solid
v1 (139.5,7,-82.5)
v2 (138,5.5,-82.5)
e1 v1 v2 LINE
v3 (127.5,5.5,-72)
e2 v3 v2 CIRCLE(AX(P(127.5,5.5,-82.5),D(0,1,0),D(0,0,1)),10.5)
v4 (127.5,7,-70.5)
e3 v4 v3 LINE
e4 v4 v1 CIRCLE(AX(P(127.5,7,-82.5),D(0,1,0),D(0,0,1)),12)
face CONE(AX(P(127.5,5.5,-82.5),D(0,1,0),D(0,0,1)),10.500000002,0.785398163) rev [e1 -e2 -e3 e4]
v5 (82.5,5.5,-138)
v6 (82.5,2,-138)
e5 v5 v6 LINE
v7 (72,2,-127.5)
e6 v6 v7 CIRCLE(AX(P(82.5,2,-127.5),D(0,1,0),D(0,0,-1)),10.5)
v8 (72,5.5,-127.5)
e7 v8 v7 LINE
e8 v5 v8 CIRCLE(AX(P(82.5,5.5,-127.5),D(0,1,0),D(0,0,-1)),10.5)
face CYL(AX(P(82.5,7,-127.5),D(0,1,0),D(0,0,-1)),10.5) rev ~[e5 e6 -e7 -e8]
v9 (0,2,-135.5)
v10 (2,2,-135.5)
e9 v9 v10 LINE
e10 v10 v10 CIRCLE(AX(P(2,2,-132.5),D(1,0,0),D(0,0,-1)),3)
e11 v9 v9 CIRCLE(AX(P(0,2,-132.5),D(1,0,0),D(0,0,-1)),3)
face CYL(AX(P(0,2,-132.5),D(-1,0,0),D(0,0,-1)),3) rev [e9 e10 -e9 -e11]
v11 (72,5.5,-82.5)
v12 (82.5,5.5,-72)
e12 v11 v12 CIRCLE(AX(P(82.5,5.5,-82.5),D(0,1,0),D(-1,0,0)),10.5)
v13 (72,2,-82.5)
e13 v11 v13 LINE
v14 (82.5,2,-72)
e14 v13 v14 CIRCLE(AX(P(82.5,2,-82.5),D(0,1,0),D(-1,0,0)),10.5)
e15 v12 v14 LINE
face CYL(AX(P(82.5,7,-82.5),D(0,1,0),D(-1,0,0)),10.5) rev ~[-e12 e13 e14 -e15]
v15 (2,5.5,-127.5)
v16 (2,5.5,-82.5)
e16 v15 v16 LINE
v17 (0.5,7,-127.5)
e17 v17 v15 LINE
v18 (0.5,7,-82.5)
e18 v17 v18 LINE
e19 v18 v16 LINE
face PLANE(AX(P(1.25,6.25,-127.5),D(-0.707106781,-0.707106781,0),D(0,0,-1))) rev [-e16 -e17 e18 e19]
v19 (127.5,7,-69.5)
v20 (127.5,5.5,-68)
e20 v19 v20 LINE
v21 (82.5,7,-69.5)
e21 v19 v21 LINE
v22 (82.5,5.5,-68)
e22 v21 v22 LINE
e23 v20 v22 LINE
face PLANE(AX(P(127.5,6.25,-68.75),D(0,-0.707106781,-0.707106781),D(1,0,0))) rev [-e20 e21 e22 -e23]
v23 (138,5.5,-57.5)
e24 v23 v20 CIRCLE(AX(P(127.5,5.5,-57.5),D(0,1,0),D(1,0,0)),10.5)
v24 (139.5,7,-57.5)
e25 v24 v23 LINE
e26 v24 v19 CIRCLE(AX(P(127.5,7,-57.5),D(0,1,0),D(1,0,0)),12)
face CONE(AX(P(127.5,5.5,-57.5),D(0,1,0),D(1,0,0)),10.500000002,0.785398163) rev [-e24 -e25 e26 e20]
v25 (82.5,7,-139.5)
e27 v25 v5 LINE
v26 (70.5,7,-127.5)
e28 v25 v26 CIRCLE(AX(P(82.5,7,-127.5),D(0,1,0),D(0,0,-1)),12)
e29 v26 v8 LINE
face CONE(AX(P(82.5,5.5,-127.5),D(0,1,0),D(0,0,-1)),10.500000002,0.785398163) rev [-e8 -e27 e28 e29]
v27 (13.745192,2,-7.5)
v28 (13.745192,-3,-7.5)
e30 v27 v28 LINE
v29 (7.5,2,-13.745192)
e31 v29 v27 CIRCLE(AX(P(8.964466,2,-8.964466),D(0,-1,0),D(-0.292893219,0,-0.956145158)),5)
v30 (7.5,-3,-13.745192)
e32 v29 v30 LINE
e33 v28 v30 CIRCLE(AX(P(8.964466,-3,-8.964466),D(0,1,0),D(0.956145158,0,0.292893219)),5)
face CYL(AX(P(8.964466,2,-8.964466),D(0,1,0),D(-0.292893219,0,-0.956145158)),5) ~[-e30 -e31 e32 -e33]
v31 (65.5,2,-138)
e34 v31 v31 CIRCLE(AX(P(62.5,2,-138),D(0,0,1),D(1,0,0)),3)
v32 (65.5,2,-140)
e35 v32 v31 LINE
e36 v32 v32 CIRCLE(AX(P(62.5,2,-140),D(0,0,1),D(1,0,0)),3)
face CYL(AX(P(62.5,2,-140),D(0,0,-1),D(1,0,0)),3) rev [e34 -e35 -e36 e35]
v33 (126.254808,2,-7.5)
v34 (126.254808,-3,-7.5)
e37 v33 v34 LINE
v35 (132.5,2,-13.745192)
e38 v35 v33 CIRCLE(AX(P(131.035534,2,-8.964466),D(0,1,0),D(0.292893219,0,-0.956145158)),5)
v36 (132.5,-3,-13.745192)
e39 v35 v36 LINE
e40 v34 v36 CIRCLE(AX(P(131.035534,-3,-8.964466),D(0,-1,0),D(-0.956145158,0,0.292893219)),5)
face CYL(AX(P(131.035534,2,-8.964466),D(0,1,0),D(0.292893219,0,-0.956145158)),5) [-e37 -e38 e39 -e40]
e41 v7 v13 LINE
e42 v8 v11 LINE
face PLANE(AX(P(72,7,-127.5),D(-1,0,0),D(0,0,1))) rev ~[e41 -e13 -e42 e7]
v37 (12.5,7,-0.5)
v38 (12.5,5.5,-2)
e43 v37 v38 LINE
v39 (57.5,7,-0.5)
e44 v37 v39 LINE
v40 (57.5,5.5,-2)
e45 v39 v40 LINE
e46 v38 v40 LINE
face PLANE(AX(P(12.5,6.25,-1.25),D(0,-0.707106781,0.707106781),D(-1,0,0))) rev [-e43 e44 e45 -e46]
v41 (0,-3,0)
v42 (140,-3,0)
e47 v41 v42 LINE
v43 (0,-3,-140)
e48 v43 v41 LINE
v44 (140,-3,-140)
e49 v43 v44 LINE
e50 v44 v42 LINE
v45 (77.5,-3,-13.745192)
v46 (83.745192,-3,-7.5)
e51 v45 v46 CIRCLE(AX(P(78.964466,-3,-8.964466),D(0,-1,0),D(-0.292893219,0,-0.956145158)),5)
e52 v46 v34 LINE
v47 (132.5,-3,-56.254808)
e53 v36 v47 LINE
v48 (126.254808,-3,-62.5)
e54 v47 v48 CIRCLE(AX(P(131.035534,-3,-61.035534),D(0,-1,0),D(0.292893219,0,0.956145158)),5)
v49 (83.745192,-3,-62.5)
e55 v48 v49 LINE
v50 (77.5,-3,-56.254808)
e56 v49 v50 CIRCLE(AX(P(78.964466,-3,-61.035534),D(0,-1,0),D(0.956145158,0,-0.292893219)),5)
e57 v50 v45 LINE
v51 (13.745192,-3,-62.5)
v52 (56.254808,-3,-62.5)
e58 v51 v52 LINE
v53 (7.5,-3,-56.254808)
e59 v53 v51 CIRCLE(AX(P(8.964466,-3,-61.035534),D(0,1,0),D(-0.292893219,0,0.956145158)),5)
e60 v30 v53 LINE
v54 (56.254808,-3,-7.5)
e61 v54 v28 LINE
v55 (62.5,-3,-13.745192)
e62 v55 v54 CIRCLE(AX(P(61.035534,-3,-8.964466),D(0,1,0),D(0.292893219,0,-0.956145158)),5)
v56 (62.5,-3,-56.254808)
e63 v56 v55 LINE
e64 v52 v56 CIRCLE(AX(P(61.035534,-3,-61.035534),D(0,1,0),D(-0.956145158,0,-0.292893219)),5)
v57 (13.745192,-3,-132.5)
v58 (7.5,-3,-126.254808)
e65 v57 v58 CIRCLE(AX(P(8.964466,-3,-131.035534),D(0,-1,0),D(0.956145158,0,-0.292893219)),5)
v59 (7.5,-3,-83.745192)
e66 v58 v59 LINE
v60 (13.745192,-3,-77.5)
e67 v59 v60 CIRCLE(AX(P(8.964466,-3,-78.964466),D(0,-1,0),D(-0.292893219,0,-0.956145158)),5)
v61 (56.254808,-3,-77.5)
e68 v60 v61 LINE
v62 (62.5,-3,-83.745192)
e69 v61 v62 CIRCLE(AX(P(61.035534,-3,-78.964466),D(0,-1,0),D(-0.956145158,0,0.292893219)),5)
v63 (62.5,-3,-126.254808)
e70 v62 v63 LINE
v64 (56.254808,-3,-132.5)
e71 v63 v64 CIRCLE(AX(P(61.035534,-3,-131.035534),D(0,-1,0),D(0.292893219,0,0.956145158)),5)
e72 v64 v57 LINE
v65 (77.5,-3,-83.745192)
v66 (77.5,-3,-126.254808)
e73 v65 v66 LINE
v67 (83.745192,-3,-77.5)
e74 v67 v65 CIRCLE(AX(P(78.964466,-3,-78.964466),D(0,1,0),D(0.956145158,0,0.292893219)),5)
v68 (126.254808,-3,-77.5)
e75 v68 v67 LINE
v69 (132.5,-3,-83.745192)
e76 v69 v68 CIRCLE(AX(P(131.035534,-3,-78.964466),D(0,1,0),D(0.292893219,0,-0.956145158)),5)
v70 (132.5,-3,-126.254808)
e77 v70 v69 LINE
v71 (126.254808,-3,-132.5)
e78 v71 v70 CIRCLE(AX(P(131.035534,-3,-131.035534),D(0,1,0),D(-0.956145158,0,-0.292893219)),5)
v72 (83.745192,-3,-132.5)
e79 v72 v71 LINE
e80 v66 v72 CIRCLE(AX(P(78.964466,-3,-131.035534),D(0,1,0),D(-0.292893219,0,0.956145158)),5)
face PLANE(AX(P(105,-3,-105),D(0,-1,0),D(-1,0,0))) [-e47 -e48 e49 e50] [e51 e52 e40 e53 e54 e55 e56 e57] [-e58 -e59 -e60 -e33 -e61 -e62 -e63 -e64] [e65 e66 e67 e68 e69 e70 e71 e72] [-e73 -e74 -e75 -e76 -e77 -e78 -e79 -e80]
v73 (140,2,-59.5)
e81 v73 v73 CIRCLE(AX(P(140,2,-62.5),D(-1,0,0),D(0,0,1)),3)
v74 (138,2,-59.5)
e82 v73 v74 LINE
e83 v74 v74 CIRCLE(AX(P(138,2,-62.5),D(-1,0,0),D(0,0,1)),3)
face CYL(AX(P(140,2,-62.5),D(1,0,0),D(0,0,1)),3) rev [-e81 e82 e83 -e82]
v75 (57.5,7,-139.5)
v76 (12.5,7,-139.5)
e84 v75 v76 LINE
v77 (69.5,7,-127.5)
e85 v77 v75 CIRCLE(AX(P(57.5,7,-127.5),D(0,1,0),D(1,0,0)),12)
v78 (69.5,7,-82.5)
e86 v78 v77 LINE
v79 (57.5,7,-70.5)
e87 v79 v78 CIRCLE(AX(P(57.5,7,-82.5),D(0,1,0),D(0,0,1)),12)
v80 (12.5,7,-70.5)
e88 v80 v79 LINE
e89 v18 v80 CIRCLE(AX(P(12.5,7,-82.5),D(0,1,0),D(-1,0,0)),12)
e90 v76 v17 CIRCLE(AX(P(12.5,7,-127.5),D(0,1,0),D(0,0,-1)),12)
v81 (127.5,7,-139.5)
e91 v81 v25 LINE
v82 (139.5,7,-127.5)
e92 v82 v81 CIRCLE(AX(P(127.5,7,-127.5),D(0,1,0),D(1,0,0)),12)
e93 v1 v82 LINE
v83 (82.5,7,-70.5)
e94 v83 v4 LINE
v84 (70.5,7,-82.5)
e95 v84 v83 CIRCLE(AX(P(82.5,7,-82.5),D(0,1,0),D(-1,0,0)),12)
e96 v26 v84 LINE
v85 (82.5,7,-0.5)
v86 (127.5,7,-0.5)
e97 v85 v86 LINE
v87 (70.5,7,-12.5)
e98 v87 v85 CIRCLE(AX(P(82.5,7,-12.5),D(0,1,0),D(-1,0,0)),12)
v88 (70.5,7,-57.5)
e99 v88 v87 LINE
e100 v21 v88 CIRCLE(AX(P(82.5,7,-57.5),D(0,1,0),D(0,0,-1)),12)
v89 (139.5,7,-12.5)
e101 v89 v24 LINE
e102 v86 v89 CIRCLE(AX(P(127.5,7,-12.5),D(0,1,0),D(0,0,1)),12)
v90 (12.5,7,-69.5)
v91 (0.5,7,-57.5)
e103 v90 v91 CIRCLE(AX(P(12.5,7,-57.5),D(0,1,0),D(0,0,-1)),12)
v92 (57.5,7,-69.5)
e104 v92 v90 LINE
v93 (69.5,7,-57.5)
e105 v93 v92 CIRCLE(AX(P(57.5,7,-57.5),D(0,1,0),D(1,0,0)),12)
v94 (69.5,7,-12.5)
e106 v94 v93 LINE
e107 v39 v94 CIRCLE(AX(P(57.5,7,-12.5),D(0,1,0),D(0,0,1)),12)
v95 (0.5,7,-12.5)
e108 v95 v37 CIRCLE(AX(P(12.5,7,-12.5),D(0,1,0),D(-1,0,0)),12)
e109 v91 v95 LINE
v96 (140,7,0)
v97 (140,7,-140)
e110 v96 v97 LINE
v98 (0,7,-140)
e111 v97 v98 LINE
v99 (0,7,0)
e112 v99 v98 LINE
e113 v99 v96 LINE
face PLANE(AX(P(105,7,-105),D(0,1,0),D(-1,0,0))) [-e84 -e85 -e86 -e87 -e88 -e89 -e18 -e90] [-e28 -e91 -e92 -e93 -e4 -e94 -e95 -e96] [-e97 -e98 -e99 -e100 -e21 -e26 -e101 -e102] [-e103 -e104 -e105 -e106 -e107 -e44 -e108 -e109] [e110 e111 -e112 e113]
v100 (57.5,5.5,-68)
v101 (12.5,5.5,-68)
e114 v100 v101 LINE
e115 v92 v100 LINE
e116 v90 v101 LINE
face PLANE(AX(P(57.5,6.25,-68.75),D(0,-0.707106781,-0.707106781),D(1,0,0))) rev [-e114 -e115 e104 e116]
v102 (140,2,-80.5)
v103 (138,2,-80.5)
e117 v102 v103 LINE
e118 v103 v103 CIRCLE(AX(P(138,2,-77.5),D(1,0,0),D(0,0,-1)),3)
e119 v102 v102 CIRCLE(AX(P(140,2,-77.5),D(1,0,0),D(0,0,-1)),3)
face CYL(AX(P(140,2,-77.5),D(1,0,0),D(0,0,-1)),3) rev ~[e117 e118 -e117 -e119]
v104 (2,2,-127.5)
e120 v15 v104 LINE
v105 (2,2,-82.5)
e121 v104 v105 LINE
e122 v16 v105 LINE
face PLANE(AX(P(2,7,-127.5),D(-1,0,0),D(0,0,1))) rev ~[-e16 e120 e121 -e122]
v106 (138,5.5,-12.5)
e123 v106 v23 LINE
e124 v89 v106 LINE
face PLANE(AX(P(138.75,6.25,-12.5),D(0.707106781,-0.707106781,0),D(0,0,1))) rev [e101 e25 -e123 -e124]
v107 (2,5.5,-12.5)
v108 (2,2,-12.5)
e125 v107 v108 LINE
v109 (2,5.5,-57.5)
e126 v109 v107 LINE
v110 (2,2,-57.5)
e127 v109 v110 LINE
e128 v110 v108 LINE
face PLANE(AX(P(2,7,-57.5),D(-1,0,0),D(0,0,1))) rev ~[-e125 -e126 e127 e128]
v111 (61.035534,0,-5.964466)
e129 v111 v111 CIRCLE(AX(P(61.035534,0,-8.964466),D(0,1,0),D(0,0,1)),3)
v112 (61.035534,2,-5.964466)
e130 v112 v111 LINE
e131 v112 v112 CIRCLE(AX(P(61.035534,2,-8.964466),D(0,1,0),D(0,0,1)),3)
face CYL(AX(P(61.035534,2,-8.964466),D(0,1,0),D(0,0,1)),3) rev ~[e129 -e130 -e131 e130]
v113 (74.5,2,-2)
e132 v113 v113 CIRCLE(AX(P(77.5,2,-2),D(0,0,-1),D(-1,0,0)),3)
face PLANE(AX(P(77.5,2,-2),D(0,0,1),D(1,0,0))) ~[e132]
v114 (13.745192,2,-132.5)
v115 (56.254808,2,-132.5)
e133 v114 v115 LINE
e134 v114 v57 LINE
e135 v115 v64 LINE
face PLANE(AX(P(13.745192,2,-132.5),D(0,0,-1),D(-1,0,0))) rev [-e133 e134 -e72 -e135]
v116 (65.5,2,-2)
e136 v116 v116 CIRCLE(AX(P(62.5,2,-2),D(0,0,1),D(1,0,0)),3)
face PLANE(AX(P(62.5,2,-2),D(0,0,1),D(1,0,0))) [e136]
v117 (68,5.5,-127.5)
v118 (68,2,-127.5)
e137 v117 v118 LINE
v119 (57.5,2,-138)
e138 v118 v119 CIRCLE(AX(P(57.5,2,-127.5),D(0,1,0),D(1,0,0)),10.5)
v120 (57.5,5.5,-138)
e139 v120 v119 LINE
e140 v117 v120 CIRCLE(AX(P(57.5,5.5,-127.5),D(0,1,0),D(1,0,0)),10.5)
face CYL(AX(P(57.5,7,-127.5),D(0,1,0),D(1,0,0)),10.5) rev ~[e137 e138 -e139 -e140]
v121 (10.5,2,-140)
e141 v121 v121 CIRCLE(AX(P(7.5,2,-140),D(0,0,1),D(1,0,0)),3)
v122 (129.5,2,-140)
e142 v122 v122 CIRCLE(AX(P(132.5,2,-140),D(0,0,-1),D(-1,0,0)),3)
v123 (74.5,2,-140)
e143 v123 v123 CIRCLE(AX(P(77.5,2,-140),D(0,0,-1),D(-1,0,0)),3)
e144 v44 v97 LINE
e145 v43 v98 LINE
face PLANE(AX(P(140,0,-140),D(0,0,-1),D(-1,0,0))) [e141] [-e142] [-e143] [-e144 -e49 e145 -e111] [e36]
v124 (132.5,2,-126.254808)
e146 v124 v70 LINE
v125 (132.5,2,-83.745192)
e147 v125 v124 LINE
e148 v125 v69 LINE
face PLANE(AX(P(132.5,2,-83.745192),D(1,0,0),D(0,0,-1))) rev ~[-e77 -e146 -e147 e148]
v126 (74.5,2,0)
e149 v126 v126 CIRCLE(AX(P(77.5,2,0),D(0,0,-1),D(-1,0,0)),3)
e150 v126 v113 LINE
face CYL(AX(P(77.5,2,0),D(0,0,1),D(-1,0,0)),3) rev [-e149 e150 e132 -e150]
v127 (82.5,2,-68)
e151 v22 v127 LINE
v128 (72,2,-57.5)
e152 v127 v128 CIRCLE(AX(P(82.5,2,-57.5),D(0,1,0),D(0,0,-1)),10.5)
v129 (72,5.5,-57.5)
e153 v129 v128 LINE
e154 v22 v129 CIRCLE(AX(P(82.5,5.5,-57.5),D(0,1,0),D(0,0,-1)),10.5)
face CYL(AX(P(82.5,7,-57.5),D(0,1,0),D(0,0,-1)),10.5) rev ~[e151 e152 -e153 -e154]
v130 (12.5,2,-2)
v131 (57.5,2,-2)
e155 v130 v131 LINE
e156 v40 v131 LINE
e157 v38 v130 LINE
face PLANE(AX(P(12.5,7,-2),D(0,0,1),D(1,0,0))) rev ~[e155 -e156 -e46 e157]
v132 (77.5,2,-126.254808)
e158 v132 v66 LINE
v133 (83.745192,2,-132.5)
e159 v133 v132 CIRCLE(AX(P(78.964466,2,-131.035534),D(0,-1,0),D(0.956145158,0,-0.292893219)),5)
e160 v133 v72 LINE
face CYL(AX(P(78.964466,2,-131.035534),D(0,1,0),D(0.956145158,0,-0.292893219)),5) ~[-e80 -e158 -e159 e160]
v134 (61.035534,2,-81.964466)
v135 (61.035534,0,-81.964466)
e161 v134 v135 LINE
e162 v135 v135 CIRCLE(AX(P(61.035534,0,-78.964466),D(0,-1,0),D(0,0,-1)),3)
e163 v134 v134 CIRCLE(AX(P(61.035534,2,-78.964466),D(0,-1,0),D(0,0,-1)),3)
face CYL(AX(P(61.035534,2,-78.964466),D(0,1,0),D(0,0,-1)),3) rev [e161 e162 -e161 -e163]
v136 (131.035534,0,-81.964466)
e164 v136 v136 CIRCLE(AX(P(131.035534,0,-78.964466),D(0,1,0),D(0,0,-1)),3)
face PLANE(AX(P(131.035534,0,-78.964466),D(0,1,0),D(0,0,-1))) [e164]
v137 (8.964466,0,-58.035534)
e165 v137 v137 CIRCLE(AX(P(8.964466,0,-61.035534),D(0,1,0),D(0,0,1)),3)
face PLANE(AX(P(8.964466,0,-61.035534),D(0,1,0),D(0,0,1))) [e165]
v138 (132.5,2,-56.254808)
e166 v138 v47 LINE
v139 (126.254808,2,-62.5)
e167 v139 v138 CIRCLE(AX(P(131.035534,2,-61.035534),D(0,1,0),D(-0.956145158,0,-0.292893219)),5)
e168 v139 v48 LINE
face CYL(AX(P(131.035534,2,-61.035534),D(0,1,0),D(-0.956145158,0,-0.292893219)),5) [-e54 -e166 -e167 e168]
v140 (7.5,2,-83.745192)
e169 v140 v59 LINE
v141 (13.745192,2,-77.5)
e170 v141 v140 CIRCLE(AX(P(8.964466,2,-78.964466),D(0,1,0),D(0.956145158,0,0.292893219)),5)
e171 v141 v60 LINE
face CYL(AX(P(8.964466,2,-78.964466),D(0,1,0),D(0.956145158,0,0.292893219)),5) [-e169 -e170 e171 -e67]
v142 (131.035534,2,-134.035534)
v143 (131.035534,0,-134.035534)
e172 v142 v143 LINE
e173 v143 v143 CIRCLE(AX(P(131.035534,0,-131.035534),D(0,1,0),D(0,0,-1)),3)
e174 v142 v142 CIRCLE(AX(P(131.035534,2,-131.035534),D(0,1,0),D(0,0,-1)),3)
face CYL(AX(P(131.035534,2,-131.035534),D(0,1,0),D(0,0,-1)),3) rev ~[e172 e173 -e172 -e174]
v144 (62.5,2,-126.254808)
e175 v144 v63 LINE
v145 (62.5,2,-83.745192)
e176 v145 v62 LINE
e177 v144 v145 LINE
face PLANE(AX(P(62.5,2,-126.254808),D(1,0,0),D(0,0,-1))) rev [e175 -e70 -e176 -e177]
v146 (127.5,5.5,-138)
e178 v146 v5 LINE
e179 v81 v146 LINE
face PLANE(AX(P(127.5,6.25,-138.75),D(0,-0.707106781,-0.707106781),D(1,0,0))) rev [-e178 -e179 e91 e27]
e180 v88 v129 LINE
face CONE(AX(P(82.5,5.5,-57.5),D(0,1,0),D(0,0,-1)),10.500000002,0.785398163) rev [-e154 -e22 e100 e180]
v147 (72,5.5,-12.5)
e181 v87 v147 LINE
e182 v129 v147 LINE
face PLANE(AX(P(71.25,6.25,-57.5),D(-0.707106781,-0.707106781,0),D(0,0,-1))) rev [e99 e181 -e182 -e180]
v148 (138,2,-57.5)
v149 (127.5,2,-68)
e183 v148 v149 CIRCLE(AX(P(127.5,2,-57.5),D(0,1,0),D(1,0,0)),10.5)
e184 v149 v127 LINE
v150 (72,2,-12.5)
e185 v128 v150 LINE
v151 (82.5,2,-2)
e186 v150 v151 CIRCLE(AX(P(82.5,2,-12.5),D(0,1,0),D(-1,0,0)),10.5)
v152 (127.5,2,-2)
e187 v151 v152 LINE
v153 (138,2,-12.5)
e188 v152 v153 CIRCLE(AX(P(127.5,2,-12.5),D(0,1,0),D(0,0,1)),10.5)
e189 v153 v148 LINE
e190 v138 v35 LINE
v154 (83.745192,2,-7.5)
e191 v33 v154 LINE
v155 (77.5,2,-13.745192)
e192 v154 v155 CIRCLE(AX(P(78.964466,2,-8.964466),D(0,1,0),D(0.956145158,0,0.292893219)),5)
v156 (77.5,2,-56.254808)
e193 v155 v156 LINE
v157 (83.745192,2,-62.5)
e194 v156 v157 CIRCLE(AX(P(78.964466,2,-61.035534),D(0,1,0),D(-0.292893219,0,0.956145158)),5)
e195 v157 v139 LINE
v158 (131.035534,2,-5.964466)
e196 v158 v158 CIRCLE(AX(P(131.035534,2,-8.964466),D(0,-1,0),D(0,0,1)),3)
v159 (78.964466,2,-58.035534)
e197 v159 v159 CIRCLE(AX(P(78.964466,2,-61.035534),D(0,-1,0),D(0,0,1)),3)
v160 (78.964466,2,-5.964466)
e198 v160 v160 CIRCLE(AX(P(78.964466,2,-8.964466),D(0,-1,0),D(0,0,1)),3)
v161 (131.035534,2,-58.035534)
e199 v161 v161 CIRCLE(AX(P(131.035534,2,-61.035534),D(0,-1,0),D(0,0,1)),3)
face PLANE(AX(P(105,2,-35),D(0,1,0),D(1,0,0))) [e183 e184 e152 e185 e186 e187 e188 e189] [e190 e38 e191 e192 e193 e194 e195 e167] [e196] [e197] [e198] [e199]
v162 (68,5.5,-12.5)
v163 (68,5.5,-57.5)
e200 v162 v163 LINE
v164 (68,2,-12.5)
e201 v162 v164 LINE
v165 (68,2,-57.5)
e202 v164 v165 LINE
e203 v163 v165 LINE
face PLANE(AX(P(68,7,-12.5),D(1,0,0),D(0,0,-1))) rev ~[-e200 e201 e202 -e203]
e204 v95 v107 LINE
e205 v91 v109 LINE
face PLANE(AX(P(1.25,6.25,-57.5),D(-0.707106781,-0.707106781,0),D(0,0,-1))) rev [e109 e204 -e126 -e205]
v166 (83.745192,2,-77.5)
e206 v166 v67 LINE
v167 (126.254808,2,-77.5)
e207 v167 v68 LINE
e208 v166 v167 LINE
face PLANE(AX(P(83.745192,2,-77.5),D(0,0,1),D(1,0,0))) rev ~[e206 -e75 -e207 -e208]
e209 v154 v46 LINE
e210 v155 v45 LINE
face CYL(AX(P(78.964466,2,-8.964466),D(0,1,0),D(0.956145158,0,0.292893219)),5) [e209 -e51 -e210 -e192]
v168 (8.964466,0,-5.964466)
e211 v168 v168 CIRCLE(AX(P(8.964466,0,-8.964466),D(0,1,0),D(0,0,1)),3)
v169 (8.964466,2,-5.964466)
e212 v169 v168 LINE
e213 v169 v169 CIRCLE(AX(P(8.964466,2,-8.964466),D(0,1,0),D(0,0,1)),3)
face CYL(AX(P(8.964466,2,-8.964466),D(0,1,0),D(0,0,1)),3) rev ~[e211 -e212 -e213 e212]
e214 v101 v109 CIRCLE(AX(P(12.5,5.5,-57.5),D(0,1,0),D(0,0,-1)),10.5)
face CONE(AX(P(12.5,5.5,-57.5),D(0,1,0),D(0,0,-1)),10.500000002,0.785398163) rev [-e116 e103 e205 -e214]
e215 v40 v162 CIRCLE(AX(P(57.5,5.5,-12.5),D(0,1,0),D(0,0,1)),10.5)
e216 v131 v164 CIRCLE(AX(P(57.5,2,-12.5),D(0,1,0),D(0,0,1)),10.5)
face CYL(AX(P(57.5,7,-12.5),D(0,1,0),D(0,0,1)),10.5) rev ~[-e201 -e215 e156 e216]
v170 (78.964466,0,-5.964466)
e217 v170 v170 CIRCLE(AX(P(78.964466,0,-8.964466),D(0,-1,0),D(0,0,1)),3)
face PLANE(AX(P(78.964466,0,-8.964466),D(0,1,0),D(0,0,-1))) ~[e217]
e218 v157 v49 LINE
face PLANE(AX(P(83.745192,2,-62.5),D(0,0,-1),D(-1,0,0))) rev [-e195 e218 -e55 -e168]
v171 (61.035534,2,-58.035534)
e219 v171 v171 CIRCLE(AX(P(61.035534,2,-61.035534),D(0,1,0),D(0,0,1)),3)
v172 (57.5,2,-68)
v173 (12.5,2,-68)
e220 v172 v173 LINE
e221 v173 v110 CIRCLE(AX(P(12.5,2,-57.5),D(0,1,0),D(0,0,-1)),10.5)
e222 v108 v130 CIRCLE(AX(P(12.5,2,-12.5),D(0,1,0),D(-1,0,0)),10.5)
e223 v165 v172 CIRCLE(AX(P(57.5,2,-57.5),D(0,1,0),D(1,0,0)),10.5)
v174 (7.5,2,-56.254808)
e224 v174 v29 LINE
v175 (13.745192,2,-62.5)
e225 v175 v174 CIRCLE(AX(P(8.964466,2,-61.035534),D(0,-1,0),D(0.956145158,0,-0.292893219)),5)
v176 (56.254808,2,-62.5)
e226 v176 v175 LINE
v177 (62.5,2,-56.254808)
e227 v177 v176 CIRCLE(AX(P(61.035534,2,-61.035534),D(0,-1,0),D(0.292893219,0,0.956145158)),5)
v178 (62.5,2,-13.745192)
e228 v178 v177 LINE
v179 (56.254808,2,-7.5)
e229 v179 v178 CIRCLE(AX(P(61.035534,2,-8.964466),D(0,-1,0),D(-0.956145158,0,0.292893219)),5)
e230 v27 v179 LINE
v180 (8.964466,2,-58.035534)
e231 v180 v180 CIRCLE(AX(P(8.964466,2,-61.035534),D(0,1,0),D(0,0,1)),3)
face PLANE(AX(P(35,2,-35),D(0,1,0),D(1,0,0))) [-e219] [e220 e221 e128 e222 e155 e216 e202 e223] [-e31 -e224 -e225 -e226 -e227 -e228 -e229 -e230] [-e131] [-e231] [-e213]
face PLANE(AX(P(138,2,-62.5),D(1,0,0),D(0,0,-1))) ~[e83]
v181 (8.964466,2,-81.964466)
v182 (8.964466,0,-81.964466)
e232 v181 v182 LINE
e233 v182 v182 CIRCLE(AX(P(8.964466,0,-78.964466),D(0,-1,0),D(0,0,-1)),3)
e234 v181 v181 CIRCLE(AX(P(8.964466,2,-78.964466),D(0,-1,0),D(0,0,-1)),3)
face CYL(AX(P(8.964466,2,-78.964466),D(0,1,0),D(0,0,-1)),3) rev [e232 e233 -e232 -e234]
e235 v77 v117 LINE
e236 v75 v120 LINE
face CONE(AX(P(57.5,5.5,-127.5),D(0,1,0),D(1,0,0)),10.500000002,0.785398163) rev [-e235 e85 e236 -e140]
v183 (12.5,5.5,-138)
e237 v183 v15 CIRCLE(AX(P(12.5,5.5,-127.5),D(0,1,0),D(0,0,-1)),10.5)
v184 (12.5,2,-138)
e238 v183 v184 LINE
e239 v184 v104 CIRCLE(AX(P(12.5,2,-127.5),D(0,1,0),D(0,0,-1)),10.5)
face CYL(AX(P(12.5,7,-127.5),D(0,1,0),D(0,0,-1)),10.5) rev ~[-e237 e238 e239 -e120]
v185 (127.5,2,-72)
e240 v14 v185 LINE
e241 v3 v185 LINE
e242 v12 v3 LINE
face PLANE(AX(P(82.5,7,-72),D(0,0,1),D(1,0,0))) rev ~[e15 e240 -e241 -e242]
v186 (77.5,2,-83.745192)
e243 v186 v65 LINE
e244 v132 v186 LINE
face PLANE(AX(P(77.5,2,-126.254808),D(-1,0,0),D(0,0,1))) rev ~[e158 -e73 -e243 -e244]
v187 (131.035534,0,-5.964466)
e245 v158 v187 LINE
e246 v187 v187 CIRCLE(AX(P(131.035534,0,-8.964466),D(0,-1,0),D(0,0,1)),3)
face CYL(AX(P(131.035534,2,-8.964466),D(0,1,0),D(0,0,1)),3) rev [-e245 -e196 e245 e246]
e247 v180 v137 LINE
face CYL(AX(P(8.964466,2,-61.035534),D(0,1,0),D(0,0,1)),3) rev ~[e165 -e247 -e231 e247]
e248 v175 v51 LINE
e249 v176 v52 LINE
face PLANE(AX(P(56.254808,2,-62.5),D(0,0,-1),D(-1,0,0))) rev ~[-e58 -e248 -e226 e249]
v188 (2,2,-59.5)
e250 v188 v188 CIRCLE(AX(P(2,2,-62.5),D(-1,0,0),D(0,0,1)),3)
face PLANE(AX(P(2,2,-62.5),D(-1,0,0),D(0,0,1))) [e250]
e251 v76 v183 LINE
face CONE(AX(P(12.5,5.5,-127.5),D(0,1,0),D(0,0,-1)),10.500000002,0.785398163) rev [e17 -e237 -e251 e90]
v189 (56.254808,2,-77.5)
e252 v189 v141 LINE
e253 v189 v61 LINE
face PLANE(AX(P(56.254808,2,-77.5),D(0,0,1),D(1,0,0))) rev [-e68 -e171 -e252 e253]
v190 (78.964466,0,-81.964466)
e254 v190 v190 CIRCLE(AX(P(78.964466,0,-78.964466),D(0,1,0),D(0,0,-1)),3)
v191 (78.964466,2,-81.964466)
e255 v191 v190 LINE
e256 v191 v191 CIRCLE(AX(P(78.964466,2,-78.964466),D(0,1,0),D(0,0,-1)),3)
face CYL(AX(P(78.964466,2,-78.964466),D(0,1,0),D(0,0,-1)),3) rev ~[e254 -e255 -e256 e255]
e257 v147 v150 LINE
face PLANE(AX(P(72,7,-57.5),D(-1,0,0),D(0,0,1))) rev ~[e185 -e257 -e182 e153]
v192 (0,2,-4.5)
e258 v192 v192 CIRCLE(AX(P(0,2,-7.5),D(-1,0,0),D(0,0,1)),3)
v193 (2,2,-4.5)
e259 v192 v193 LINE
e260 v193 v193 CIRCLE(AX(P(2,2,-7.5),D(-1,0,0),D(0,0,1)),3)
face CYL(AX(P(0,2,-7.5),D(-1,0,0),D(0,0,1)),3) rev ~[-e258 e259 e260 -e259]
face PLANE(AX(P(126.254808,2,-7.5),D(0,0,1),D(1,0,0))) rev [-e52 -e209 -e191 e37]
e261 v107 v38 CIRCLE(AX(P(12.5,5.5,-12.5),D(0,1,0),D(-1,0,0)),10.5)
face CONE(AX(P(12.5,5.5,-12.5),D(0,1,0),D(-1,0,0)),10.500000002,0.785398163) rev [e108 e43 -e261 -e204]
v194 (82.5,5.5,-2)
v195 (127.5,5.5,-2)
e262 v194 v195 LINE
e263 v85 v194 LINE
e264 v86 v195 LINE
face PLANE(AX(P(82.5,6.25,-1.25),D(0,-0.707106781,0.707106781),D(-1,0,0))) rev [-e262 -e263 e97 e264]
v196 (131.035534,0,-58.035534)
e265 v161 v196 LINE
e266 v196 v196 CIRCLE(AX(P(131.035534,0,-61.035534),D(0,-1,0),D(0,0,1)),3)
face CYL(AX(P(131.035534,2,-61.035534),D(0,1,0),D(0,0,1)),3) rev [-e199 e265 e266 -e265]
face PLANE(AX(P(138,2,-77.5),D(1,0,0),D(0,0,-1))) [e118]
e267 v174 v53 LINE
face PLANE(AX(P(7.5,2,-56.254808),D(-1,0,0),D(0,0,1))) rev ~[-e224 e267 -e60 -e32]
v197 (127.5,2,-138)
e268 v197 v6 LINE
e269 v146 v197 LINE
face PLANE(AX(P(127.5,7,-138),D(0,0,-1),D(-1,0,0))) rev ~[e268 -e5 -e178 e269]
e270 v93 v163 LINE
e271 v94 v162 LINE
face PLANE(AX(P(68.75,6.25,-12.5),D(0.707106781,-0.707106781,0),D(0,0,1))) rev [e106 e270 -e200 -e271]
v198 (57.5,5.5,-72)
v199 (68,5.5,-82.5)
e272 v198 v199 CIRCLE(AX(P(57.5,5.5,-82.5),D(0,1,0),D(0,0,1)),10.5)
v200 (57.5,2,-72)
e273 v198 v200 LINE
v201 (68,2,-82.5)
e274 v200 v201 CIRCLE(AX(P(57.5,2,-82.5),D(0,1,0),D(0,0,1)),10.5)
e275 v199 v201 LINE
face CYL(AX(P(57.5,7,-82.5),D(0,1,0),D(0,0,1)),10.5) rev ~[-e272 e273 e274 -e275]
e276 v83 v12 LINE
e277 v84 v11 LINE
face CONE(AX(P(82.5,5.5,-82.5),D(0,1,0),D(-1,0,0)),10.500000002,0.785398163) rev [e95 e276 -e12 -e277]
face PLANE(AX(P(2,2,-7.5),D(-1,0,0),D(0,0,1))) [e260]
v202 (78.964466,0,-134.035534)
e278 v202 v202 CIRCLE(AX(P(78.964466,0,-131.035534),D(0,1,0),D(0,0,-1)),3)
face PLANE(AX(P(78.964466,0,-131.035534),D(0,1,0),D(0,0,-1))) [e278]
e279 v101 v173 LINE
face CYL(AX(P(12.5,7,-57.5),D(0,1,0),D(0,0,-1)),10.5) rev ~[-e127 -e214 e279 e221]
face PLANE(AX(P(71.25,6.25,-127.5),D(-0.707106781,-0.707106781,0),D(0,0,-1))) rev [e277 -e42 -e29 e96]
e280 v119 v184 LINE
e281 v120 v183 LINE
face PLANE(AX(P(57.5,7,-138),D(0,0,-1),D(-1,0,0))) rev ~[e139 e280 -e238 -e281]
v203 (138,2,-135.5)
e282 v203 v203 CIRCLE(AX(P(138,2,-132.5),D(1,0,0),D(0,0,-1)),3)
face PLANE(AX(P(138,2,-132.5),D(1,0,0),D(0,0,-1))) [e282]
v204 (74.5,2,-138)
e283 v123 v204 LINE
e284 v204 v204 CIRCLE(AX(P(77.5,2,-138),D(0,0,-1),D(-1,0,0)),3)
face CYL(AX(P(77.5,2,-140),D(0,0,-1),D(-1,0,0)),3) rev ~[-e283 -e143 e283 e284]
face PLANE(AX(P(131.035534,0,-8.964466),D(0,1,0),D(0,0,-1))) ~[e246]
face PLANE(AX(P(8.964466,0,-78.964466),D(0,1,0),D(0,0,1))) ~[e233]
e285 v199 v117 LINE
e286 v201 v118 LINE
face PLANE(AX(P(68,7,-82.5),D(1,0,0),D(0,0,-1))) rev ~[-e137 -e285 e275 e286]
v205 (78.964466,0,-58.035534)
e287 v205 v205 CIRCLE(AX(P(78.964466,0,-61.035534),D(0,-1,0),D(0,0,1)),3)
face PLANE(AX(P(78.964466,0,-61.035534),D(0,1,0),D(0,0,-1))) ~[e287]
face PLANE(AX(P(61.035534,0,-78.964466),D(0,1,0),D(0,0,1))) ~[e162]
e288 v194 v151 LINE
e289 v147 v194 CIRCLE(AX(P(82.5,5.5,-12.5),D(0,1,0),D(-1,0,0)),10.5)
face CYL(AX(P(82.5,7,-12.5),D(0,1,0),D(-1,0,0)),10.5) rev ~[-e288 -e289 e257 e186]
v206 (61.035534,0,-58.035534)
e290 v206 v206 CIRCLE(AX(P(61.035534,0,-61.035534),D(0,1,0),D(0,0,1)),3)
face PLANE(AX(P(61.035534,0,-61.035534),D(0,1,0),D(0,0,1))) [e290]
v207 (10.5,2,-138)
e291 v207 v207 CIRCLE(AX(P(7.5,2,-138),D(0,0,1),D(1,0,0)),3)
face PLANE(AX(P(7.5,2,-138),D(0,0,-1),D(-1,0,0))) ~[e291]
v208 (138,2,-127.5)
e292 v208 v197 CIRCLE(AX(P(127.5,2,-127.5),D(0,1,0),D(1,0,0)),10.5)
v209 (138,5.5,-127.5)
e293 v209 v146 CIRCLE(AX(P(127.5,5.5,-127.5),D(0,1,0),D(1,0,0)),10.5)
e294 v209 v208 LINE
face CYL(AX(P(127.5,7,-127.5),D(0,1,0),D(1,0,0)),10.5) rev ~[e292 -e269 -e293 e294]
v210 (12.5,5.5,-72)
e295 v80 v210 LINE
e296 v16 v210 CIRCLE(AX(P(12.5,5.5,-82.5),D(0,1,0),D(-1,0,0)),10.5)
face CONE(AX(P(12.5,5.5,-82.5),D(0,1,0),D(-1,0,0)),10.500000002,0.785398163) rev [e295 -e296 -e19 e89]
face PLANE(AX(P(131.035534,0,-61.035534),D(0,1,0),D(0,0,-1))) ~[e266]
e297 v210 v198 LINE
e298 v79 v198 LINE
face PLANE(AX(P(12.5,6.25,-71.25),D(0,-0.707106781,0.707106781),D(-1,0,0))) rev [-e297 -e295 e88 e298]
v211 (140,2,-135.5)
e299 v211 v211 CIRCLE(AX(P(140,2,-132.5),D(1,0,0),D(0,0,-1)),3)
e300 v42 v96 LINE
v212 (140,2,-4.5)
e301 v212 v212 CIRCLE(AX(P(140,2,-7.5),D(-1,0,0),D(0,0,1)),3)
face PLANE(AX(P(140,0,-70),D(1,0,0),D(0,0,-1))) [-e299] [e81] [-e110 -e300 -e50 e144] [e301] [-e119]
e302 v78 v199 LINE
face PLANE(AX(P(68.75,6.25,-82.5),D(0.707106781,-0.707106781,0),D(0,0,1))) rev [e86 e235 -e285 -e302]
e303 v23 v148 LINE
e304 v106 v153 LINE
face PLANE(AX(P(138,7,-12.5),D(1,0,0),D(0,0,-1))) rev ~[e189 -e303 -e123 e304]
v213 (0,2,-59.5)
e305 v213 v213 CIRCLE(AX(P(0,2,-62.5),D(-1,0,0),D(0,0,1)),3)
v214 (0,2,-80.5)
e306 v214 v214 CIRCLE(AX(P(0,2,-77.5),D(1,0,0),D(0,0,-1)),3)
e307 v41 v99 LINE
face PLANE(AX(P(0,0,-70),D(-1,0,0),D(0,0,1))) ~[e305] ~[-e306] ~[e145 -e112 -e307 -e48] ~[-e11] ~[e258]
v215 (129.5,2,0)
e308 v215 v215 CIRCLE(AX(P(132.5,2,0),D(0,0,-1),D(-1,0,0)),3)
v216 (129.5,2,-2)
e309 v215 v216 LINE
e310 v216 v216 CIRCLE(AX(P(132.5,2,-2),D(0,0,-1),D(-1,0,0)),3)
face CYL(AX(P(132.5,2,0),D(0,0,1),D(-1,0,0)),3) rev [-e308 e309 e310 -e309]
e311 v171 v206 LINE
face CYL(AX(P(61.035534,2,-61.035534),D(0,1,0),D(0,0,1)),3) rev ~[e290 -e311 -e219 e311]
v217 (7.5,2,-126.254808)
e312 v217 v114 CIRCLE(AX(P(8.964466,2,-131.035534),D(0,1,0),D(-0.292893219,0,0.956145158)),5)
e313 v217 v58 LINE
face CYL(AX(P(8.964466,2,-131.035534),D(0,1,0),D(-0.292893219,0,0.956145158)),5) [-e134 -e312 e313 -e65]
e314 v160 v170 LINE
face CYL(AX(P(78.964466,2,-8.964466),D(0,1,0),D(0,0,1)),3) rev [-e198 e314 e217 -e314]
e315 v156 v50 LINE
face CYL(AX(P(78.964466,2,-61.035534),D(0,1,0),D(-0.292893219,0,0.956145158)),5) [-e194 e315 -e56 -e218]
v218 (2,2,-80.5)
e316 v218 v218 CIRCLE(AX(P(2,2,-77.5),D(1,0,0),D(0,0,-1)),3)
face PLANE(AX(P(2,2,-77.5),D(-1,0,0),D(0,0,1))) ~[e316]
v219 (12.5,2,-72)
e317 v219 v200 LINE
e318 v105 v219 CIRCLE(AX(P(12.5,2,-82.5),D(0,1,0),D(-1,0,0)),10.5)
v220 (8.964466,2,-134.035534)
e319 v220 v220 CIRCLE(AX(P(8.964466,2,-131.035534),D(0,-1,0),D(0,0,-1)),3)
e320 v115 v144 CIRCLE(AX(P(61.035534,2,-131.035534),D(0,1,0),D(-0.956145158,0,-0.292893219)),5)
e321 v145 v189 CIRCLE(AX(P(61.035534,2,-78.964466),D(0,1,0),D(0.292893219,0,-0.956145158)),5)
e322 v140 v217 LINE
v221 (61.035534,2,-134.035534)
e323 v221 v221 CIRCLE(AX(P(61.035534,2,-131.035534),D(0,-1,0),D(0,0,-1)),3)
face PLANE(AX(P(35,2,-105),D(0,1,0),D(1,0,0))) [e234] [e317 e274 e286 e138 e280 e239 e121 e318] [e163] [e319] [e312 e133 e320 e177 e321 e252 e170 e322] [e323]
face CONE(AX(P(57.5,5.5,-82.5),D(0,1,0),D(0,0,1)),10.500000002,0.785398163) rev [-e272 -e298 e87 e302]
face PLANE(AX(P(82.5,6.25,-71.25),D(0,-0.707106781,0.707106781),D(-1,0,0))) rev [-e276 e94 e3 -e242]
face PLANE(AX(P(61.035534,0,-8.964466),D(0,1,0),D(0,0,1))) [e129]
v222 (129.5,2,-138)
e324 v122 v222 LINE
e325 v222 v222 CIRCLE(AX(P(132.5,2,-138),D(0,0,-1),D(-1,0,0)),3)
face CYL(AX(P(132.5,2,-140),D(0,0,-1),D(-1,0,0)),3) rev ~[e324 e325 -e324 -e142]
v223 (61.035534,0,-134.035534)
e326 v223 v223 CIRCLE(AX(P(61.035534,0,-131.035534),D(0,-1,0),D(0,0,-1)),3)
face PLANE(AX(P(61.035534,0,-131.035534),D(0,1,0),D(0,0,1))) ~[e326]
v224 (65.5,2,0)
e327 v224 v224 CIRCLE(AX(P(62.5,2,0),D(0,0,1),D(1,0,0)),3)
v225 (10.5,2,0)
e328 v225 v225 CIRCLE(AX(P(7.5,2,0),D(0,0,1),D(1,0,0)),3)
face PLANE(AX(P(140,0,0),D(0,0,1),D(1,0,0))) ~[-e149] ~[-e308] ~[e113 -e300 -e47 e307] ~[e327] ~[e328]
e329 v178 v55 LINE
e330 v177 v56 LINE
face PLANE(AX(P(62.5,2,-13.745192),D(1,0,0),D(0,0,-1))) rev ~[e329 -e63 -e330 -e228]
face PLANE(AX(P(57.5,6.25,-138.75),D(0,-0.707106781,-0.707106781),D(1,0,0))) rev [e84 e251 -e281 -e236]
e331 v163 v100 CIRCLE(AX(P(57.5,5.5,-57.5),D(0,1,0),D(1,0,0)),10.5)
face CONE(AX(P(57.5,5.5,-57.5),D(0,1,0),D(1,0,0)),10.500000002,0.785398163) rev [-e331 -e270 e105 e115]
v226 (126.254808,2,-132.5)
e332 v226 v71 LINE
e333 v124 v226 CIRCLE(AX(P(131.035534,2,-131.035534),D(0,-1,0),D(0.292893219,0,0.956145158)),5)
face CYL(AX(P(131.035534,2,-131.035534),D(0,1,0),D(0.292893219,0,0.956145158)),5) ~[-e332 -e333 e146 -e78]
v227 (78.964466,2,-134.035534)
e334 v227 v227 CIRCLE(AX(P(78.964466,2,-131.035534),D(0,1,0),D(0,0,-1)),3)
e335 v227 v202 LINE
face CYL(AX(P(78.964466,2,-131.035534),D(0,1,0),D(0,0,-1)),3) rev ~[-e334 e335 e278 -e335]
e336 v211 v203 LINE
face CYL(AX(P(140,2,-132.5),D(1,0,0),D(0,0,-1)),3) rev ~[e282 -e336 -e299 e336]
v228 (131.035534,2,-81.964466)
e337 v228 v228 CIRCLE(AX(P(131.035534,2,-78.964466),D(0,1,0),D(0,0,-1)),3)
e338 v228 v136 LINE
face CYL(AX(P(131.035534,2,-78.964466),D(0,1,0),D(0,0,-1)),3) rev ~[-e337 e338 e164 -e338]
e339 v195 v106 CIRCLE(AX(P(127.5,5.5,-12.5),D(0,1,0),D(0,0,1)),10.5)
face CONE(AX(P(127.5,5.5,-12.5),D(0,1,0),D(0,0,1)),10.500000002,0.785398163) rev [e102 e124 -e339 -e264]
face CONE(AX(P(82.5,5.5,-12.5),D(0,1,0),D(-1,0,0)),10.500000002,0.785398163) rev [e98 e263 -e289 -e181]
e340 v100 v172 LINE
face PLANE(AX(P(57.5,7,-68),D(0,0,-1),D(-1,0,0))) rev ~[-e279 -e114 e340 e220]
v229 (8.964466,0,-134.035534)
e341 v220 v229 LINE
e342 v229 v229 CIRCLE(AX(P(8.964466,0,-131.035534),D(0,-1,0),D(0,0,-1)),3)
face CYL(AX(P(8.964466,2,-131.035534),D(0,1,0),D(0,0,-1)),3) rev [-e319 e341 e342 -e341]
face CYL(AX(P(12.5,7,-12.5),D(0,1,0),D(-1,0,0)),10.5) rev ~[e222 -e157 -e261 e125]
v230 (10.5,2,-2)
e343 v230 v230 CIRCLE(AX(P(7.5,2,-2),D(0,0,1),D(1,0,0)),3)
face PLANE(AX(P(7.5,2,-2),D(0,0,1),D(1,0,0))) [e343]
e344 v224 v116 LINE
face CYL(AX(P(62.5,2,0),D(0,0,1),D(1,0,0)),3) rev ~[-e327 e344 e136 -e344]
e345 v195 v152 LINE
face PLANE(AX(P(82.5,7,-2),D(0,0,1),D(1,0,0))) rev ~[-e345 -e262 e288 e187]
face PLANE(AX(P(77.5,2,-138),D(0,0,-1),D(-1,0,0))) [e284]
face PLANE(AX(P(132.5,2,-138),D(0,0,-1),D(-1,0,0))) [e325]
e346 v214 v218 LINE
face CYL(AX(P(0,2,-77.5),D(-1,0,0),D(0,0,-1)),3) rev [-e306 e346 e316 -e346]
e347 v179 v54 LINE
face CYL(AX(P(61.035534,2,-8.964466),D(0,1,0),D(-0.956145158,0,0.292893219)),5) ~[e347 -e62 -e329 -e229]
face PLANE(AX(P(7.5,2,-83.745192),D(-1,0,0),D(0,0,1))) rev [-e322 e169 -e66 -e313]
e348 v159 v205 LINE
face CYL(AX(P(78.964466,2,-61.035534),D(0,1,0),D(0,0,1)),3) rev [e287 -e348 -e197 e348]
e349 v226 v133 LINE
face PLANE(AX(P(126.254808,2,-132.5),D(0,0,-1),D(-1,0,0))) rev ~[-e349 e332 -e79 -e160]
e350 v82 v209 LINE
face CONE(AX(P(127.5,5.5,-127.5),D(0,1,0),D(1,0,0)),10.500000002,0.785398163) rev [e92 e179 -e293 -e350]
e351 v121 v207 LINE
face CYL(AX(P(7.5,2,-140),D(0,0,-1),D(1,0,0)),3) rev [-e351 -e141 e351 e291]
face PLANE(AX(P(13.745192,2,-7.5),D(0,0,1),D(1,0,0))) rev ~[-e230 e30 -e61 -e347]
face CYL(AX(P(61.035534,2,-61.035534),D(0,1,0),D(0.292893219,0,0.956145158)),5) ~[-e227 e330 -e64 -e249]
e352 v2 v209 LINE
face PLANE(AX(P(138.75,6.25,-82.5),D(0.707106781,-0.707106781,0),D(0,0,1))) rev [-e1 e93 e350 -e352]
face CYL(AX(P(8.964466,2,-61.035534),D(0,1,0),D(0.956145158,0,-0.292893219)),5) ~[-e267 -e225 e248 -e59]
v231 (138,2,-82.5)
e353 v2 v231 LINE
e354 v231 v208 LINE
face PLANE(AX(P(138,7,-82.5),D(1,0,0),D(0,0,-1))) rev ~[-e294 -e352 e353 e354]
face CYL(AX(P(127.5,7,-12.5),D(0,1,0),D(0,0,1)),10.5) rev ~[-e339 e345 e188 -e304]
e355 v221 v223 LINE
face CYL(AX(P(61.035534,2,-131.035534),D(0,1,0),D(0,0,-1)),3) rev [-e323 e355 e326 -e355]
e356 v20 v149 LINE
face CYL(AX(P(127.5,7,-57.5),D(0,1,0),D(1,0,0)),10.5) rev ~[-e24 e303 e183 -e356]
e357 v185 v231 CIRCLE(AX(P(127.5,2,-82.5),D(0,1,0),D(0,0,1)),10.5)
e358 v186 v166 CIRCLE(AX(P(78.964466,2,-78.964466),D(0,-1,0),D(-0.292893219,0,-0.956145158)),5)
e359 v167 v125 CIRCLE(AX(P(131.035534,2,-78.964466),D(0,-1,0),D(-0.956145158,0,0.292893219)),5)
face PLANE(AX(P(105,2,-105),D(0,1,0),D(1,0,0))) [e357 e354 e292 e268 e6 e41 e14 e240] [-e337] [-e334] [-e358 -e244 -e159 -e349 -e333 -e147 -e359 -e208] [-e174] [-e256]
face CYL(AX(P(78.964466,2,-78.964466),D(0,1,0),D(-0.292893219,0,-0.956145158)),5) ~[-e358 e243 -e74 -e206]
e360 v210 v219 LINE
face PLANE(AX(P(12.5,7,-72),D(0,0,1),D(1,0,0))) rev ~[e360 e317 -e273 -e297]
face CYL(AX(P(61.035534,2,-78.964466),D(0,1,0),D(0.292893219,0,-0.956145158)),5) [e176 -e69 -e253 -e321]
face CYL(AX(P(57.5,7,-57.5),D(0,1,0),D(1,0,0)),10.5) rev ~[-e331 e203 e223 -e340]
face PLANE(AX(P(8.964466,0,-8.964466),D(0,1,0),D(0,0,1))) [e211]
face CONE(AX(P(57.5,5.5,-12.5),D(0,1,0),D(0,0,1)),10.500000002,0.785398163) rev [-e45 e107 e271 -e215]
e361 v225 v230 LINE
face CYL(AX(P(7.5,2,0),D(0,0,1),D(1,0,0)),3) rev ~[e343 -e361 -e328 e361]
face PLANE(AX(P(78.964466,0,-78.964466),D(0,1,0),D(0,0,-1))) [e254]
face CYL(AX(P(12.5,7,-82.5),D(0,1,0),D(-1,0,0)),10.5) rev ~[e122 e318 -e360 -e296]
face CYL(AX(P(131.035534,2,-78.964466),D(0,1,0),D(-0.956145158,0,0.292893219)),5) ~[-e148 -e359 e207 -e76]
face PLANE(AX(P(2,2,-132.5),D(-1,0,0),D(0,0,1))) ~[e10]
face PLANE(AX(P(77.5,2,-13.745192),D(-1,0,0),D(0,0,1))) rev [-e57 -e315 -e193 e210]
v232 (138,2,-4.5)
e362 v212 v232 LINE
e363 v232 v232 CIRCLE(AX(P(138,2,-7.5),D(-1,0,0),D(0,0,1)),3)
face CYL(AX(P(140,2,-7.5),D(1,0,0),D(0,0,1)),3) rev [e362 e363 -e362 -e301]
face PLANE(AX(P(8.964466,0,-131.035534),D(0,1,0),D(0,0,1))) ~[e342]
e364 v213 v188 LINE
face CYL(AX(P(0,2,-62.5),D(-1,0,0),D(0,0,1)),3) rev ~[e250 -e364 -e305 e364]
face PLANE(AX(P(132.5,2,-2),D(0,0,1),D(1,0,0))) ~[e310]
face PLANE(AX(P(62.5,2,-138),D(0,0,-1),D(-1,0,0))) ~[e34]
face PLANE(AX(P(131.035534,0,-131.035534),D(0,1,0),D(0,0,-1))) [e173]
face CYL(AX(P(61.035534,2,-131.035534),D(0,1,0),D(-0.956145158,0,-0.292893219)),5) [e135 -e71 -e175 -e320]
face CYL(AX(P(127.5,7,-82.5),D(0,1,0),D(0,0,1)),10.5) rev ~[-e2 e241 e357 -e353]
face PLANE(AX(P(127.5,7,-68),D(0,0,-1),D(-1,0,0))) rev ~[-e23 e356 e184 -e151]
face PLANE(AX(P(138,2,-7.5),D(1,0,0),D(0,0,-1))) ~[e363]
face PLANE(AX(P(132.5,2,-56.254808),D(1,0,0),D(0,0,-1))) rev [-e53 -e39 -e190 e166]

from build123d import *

# Parameters (mm, degrees)
SKETCH1_W           = 70
SKETCH1_H           = 70
BOSS_EXTRUDE2_DEPTH = 7
CUT_EXTRUDE1_DEPTH  = 5
SKETCH9_W           = 70
SKETCH9_H           = 70
BOSS_EXTRUDE3_DEPTH = 5
CUT_EXTRUDE11_DEPTH = 100.242128151
SKETCH21_R          = 3
CUT_EXTRUDE12_DEPTH = 2
CUT_EXTRUDE13_START = -2
SKETCH22_W          = 70
SKETCH22_H          = 70
CUT_EXTRUDE13_DEPTH = 2
SKETCH27_R          = 3
CUT_EXTRUDE27_DEPTH = 2
SKETCH28_R          = 3
CUT_EXTRUDE28_DEPTH = 2
CUT_EXTRUDE29_DEPTH = 5
CUT_EXTRUDE30_DEPTH = 5
CHAMFER1_SIZE       = 1.5


with BuildPart() as part:
    # Sketch1 → Boss-Extrude2 (new body)
    with BuildSketch(Plane(origin=(0, 0, 0), x_dir=(1, 0, 0), z_dir=(0, 1, 0))):
        with Locations((35, 35)):
            Rectangle(SKETCH1_W, SKETCH1_H)
    extrude(amount=BOSS_EXTRUDE2_DEPTH)

    # Sketch3 → Cut-Extrude1 (cut)
    with BuildSketch(Plane(origin=(0, 7, 0), x_dir=(1, 0, 0), z_dir=(0, 1, 0))):
        with BuildLine():
            Line((2.5, 57.5), (2.5, 12.5))
            ThreePointArc((2.5, 12.5), (5.428932188, 5.428932188), (12.5, 2.5))
            Line((12.5, 2.5), (57.5, 2.5))
            ThreePointArc((57.5, 2.5), (64.571067812, 5.428932188), (67.5, 12.5))
            Line((67.5, 12.5), (67.5, 57.5))
            ThreePointArc((67.5, 57.5), (64.571067812, 64.571067812), (57.5, 67.5))
            Line((57.5, 67.5), (12.5, 67.5))
            ThreePointArc((12.5, 67.5), (5.428932188, 64.571067812), (2.5, 57.5))
        make_face()
    extrude(amount=-CUT_EXTRUDE1_DEPTH, mode=Mode.SUBTRACT)

    # Sketch9 → Boss-Extrude3 (add)
    with BuildSketch(Plane.XZ):
        with Locations((35, -35)):
            Rectangle(SKETCH9_W, SKETCH9_H)
    extrude(amount=BOSS_EXTRUDE3_DEPTH)

    # Sketch20 → Cut-Extrude11 (cut, through all)
    with BuildSketch(Plane(origin=(0, 2, 0), x_dir=(1, 0, 0), z_dir=(0, 1, 0))):
        with BuildLine():
            Line((13.745191882, 7.5), (56.254808118, 7.5))
            ThreePointArc((56.254808118, 7.5), (57.5, 12.5), (62.5, 13.745191882))
            Line((62.5, 13.745191882), (62.5, 56.254808118))
            ThreePointArc((62.5, 56.254808118), (57.5, 57.5), (56.254808118, 62.5))
            Line((56.254808118, 62.5), (13.745191882, 62.5))
            ThreePointArc((13.745191882, 62.5), (12.5, 57.5), (7.5, 56.254808118))
            Line((7.5, 56.254808118), (7.5, 13.745191882))
            ThreePointArc((7.5, 13.745191882), (12.5, 12.5), (13.745191882, 7.5))
        make_face()
    extrude(amount=-CUT_EXTRUDE11_DEPTH, mode=Mode.SUBTRACT)

    # Sketch21 → Cut-Extrude12 (cut)
    with BuildSketch(Plane(origin=(0, 2, 0), x_dir=(1, 0, 0), z_dir=(0, 1, 0))):
        with Locations(Location((8.964466094, 61.035533906, 0), (0, 0, 270))):
            Circle(SKETCH21_R)
        with Locations(Location((61.035533906, 61.035533906, 0), (0, 0, 270))):
            Circle(SKETCH21_R)
        with Locations(Location((61.035533906, 8.964466094, 0), (0, 0, 270))):
            Circle(SKETCH21_R)
        with Locations(Location((8.964466094, 8.964466094, 0), (0, 0, 270))):
            Circle(SKETCH21_R)
    extrude(amount=-CUT_EXTRUDE12_DEPTH, mode=Mode.SUBTRACT)

    # Sketch22 → Cut-Extrude13 (cut)
    with BuildSketch(Plane.XZ.offset(5).offset(CUT_EXTRUDE13_START)):
        with Locations((35, -35)):
            Rectangle(SKETCH22_W, SKETCH22_H)
        with BuildLine():
            Line((7.5, -13.745191882), (7.5, -56.254808118))
            ThreePointArc((7.5, -56.254808118), (12.5, -57.5), (13.745191882, -62.5))
            Line((13.745191882, -62.5), (56.254808118, -62.5))
            ThreePointArc((56.254808118, -62.5), (57.5, -57.5), (62.5, -56.254808118))
            Line((62.5, -56.254808118), (62.5, -13.745191882))
            ThreePointArc((62.5, -13.745191882), (57.5, -12.5), (56.254808118, -7.5))
            Line((56.254808118, -7.5), (13.745191882, -7.5))
            ThreePointArc((13.745191882, -7.5), (12.5, -12.5), (7.5, -13.745191882))
        make_face(mode=Mode.SUBTRACT)
    extrude(amount=CUT_EXTRUDE13_DEPTH, mode=Mode.SUBTRACT)

    # Sketch27 → Cut-Extrude27 (cut)
    with BuildSketch(Plane.ZY):
        with Locations((-62.5, 2)):
            Circle(SKETCH27_R)
        with Locations((-7.5, 2)):
            Circle(SKETCH27_R)
    extrude(amount=-CUT_EXTRUDE27_DEPTH, mode=Mode.SUBTRACT)

    # Sketch28 → Cut-Extrude28 (cut)
    with BuildSketch(Plane.XY):
        with Locations((7.5, 2)):
            Circle(SKETCH28_R)
        with Locations((62.5, 2)):
            Circle(SKETCH28_R)
    extrude(amount=-CUT_EXTRUDE28_DEPTH, mode=Mode.SUBTRACT)

    # Mirror2: part across plane


with BuildPart() as part_1:
    add(part.part)
    add(part.part.mirror(Plane(origin=(0, 7, -70), x_dir=(1, 0, 0), z_dir=(0, 0, 1))))

    # Mirror3: part across plane


with BuildPart() as part_2:
    add(part_1.part)
    add(part_1.part.mirror(Plane(origin=(70, 7, 0), x_dir=(0, 0, 1), z_dir=(-1, 0, 0))))

    # Sketch30 → Cut-Extrude29 (cut)
    with BuildSketch(Plane(origin=(0, 7, 0), x_dir=(1, 0, 0), z_dir=(0, 1, 0))):
        with BuildLine():
            Line((2, 57.5), (2, 12.5))
            ThreePointArc((2, 12.5), (5.075378798, 5.075378798), (12.5, 2))
            Line((12.5, 2), (57.5, 2))
            ThreePointArc((57.5, 2), (64.924621202, 5.075378798), (68, 12.5))
            Line((68, 12.5), (68, 57.5))
            ThreePointArc((68, 57.5), (64.924621202, 64.924621202), (57.5, 68))
            Line((57.5, 68), (12.5, 68))
            ThreePointArc((12.5, 68), (5.075378798, 64.924621202), (2, 57.5))
        make_face()
    extrude(amount=-CUT_EXTRUDE29_DEPTH, mode=Mode.SUBTRACT)

    # Sketch31 → Cut-Extrude30 (cut)
    with BuildSketch(Plane(origin=(0, 7, 0), x_dir=(1, 0, 0), z_dir=(0, 1, 0))):
        with BuildLine():
            Line((68, 82.5), (68, 127.5))
            ThreePointArc((68, 127.5), (64.924621202, 134.924621202), (57.5, 138))
            Line((57.5, 138), (12.5, 138))
            ThreePointArc((12.5, 138), (5.075378798, 134.924621202), (2, 127.5))
            Line((2, 127.5), (2, 82.5))
            ThreePointArc((2, 82.5), (5.075378798, 75.075378798), (12.5, 72))
            Line((12.5, 72), (57.5, 72))
            ThreePointArc((57.5, 72), (64.924621202, 75.075378798), (68, 82.5))
        make_face()
        with BuildLine():
            Line((82.5, 72), (127.5, 72))
            ThreePointArc((127.5, 72), (134.924621202, 75.075378798), (138, 82.5))
            Line((138, 82.5), (138, 127.5))
            ThreePointArc((138, 127.5), (134.924621202, 134.924621202), (127.5, 138))
            Line((127.5, 138), (82.5, 138))
            ThreePointArc((82.5, 138), (75.075378798, 134.924621202), (72, 127.5))
            Line((72, 127.5), (72, 82.5))
            ThreePointArc((72, 82.5), (75.075378798, 75.075378798), (82.5, 72))
        make_face()
        with BuildLine():
            Line((72, 57.5), (72, 12.5))
            ThreePointArc((72, 12.5), (75.075378798, 5.075378798), (82.5, 2))
            Line((82.5, 2), (127.5, 2))
            ThreePointArc((127.5, 2), (134.924621202, 5.075378798), (138, 12.5))
            Line((138, 12.5), (138, 57.5))
            ThreePointArc((138, 57.5), (134.924621202, 64.924621202), (127.5, 68))
            Line((127.5, 68), (82.5, 68))
            ThreePointArc((82.5, 68), (75.075378798, 64.924621202), (72, 57.5))
        make_face()
    extrude(amount=-CUT_EXTRUDE30_DEPTH, mode=Mode.SUBTRACT)

    # Chamfer1
    chamfer1_edges = [part_2.edges().sort_by_distance(p)[0] for p in [
        (5.075378798, 7, -64.924621202),
        (2, 7, -35),
        (5.075378798, 7, -5.075378798),
        (35, 7, -2),
        (64.924621202, 7, -5.075378798),
        (68, 7, -35),
        (64.924621202, 7, -64.924621202),
        (35, 7, -68),
        (64.924621202, 7, -134.924621202),
        (35, 7, -138),
        (5.075378798, 7, -134.924621202),
        (2, 7, -105),
        (5.075378798, 7, -75.075378798),
        (35, 7, -72),
        (64.924621202, 7, -75.075378798),
        (68, 7, -105),
        (75.075378798, 7, -5.075378798),
        (105, 7, -2),
        (134.924621202, 7, -5.075378798),
        (138, 7, -35),
        (134.924621202, 7, -64.924621202),
        (105, 7, -68),
        (75.075378798, 7, -64.924621202),
        (72, 7, -35),
        (75.075378798, 7, -75.075378798),
        (105, 7, -72),
        (134.924621202, 7, -75.075378798),
        (138, 7, -105),
        (134.924621202, 7, -134.924621202),
        (105, 7, -138),
        (75.075378798, 7, -134.924621202),
        (72, 7, -105),
    ]]
    chamfer(chamfer1_edges, length=CHAMFER1_SIZE)


solid = part_2.part
